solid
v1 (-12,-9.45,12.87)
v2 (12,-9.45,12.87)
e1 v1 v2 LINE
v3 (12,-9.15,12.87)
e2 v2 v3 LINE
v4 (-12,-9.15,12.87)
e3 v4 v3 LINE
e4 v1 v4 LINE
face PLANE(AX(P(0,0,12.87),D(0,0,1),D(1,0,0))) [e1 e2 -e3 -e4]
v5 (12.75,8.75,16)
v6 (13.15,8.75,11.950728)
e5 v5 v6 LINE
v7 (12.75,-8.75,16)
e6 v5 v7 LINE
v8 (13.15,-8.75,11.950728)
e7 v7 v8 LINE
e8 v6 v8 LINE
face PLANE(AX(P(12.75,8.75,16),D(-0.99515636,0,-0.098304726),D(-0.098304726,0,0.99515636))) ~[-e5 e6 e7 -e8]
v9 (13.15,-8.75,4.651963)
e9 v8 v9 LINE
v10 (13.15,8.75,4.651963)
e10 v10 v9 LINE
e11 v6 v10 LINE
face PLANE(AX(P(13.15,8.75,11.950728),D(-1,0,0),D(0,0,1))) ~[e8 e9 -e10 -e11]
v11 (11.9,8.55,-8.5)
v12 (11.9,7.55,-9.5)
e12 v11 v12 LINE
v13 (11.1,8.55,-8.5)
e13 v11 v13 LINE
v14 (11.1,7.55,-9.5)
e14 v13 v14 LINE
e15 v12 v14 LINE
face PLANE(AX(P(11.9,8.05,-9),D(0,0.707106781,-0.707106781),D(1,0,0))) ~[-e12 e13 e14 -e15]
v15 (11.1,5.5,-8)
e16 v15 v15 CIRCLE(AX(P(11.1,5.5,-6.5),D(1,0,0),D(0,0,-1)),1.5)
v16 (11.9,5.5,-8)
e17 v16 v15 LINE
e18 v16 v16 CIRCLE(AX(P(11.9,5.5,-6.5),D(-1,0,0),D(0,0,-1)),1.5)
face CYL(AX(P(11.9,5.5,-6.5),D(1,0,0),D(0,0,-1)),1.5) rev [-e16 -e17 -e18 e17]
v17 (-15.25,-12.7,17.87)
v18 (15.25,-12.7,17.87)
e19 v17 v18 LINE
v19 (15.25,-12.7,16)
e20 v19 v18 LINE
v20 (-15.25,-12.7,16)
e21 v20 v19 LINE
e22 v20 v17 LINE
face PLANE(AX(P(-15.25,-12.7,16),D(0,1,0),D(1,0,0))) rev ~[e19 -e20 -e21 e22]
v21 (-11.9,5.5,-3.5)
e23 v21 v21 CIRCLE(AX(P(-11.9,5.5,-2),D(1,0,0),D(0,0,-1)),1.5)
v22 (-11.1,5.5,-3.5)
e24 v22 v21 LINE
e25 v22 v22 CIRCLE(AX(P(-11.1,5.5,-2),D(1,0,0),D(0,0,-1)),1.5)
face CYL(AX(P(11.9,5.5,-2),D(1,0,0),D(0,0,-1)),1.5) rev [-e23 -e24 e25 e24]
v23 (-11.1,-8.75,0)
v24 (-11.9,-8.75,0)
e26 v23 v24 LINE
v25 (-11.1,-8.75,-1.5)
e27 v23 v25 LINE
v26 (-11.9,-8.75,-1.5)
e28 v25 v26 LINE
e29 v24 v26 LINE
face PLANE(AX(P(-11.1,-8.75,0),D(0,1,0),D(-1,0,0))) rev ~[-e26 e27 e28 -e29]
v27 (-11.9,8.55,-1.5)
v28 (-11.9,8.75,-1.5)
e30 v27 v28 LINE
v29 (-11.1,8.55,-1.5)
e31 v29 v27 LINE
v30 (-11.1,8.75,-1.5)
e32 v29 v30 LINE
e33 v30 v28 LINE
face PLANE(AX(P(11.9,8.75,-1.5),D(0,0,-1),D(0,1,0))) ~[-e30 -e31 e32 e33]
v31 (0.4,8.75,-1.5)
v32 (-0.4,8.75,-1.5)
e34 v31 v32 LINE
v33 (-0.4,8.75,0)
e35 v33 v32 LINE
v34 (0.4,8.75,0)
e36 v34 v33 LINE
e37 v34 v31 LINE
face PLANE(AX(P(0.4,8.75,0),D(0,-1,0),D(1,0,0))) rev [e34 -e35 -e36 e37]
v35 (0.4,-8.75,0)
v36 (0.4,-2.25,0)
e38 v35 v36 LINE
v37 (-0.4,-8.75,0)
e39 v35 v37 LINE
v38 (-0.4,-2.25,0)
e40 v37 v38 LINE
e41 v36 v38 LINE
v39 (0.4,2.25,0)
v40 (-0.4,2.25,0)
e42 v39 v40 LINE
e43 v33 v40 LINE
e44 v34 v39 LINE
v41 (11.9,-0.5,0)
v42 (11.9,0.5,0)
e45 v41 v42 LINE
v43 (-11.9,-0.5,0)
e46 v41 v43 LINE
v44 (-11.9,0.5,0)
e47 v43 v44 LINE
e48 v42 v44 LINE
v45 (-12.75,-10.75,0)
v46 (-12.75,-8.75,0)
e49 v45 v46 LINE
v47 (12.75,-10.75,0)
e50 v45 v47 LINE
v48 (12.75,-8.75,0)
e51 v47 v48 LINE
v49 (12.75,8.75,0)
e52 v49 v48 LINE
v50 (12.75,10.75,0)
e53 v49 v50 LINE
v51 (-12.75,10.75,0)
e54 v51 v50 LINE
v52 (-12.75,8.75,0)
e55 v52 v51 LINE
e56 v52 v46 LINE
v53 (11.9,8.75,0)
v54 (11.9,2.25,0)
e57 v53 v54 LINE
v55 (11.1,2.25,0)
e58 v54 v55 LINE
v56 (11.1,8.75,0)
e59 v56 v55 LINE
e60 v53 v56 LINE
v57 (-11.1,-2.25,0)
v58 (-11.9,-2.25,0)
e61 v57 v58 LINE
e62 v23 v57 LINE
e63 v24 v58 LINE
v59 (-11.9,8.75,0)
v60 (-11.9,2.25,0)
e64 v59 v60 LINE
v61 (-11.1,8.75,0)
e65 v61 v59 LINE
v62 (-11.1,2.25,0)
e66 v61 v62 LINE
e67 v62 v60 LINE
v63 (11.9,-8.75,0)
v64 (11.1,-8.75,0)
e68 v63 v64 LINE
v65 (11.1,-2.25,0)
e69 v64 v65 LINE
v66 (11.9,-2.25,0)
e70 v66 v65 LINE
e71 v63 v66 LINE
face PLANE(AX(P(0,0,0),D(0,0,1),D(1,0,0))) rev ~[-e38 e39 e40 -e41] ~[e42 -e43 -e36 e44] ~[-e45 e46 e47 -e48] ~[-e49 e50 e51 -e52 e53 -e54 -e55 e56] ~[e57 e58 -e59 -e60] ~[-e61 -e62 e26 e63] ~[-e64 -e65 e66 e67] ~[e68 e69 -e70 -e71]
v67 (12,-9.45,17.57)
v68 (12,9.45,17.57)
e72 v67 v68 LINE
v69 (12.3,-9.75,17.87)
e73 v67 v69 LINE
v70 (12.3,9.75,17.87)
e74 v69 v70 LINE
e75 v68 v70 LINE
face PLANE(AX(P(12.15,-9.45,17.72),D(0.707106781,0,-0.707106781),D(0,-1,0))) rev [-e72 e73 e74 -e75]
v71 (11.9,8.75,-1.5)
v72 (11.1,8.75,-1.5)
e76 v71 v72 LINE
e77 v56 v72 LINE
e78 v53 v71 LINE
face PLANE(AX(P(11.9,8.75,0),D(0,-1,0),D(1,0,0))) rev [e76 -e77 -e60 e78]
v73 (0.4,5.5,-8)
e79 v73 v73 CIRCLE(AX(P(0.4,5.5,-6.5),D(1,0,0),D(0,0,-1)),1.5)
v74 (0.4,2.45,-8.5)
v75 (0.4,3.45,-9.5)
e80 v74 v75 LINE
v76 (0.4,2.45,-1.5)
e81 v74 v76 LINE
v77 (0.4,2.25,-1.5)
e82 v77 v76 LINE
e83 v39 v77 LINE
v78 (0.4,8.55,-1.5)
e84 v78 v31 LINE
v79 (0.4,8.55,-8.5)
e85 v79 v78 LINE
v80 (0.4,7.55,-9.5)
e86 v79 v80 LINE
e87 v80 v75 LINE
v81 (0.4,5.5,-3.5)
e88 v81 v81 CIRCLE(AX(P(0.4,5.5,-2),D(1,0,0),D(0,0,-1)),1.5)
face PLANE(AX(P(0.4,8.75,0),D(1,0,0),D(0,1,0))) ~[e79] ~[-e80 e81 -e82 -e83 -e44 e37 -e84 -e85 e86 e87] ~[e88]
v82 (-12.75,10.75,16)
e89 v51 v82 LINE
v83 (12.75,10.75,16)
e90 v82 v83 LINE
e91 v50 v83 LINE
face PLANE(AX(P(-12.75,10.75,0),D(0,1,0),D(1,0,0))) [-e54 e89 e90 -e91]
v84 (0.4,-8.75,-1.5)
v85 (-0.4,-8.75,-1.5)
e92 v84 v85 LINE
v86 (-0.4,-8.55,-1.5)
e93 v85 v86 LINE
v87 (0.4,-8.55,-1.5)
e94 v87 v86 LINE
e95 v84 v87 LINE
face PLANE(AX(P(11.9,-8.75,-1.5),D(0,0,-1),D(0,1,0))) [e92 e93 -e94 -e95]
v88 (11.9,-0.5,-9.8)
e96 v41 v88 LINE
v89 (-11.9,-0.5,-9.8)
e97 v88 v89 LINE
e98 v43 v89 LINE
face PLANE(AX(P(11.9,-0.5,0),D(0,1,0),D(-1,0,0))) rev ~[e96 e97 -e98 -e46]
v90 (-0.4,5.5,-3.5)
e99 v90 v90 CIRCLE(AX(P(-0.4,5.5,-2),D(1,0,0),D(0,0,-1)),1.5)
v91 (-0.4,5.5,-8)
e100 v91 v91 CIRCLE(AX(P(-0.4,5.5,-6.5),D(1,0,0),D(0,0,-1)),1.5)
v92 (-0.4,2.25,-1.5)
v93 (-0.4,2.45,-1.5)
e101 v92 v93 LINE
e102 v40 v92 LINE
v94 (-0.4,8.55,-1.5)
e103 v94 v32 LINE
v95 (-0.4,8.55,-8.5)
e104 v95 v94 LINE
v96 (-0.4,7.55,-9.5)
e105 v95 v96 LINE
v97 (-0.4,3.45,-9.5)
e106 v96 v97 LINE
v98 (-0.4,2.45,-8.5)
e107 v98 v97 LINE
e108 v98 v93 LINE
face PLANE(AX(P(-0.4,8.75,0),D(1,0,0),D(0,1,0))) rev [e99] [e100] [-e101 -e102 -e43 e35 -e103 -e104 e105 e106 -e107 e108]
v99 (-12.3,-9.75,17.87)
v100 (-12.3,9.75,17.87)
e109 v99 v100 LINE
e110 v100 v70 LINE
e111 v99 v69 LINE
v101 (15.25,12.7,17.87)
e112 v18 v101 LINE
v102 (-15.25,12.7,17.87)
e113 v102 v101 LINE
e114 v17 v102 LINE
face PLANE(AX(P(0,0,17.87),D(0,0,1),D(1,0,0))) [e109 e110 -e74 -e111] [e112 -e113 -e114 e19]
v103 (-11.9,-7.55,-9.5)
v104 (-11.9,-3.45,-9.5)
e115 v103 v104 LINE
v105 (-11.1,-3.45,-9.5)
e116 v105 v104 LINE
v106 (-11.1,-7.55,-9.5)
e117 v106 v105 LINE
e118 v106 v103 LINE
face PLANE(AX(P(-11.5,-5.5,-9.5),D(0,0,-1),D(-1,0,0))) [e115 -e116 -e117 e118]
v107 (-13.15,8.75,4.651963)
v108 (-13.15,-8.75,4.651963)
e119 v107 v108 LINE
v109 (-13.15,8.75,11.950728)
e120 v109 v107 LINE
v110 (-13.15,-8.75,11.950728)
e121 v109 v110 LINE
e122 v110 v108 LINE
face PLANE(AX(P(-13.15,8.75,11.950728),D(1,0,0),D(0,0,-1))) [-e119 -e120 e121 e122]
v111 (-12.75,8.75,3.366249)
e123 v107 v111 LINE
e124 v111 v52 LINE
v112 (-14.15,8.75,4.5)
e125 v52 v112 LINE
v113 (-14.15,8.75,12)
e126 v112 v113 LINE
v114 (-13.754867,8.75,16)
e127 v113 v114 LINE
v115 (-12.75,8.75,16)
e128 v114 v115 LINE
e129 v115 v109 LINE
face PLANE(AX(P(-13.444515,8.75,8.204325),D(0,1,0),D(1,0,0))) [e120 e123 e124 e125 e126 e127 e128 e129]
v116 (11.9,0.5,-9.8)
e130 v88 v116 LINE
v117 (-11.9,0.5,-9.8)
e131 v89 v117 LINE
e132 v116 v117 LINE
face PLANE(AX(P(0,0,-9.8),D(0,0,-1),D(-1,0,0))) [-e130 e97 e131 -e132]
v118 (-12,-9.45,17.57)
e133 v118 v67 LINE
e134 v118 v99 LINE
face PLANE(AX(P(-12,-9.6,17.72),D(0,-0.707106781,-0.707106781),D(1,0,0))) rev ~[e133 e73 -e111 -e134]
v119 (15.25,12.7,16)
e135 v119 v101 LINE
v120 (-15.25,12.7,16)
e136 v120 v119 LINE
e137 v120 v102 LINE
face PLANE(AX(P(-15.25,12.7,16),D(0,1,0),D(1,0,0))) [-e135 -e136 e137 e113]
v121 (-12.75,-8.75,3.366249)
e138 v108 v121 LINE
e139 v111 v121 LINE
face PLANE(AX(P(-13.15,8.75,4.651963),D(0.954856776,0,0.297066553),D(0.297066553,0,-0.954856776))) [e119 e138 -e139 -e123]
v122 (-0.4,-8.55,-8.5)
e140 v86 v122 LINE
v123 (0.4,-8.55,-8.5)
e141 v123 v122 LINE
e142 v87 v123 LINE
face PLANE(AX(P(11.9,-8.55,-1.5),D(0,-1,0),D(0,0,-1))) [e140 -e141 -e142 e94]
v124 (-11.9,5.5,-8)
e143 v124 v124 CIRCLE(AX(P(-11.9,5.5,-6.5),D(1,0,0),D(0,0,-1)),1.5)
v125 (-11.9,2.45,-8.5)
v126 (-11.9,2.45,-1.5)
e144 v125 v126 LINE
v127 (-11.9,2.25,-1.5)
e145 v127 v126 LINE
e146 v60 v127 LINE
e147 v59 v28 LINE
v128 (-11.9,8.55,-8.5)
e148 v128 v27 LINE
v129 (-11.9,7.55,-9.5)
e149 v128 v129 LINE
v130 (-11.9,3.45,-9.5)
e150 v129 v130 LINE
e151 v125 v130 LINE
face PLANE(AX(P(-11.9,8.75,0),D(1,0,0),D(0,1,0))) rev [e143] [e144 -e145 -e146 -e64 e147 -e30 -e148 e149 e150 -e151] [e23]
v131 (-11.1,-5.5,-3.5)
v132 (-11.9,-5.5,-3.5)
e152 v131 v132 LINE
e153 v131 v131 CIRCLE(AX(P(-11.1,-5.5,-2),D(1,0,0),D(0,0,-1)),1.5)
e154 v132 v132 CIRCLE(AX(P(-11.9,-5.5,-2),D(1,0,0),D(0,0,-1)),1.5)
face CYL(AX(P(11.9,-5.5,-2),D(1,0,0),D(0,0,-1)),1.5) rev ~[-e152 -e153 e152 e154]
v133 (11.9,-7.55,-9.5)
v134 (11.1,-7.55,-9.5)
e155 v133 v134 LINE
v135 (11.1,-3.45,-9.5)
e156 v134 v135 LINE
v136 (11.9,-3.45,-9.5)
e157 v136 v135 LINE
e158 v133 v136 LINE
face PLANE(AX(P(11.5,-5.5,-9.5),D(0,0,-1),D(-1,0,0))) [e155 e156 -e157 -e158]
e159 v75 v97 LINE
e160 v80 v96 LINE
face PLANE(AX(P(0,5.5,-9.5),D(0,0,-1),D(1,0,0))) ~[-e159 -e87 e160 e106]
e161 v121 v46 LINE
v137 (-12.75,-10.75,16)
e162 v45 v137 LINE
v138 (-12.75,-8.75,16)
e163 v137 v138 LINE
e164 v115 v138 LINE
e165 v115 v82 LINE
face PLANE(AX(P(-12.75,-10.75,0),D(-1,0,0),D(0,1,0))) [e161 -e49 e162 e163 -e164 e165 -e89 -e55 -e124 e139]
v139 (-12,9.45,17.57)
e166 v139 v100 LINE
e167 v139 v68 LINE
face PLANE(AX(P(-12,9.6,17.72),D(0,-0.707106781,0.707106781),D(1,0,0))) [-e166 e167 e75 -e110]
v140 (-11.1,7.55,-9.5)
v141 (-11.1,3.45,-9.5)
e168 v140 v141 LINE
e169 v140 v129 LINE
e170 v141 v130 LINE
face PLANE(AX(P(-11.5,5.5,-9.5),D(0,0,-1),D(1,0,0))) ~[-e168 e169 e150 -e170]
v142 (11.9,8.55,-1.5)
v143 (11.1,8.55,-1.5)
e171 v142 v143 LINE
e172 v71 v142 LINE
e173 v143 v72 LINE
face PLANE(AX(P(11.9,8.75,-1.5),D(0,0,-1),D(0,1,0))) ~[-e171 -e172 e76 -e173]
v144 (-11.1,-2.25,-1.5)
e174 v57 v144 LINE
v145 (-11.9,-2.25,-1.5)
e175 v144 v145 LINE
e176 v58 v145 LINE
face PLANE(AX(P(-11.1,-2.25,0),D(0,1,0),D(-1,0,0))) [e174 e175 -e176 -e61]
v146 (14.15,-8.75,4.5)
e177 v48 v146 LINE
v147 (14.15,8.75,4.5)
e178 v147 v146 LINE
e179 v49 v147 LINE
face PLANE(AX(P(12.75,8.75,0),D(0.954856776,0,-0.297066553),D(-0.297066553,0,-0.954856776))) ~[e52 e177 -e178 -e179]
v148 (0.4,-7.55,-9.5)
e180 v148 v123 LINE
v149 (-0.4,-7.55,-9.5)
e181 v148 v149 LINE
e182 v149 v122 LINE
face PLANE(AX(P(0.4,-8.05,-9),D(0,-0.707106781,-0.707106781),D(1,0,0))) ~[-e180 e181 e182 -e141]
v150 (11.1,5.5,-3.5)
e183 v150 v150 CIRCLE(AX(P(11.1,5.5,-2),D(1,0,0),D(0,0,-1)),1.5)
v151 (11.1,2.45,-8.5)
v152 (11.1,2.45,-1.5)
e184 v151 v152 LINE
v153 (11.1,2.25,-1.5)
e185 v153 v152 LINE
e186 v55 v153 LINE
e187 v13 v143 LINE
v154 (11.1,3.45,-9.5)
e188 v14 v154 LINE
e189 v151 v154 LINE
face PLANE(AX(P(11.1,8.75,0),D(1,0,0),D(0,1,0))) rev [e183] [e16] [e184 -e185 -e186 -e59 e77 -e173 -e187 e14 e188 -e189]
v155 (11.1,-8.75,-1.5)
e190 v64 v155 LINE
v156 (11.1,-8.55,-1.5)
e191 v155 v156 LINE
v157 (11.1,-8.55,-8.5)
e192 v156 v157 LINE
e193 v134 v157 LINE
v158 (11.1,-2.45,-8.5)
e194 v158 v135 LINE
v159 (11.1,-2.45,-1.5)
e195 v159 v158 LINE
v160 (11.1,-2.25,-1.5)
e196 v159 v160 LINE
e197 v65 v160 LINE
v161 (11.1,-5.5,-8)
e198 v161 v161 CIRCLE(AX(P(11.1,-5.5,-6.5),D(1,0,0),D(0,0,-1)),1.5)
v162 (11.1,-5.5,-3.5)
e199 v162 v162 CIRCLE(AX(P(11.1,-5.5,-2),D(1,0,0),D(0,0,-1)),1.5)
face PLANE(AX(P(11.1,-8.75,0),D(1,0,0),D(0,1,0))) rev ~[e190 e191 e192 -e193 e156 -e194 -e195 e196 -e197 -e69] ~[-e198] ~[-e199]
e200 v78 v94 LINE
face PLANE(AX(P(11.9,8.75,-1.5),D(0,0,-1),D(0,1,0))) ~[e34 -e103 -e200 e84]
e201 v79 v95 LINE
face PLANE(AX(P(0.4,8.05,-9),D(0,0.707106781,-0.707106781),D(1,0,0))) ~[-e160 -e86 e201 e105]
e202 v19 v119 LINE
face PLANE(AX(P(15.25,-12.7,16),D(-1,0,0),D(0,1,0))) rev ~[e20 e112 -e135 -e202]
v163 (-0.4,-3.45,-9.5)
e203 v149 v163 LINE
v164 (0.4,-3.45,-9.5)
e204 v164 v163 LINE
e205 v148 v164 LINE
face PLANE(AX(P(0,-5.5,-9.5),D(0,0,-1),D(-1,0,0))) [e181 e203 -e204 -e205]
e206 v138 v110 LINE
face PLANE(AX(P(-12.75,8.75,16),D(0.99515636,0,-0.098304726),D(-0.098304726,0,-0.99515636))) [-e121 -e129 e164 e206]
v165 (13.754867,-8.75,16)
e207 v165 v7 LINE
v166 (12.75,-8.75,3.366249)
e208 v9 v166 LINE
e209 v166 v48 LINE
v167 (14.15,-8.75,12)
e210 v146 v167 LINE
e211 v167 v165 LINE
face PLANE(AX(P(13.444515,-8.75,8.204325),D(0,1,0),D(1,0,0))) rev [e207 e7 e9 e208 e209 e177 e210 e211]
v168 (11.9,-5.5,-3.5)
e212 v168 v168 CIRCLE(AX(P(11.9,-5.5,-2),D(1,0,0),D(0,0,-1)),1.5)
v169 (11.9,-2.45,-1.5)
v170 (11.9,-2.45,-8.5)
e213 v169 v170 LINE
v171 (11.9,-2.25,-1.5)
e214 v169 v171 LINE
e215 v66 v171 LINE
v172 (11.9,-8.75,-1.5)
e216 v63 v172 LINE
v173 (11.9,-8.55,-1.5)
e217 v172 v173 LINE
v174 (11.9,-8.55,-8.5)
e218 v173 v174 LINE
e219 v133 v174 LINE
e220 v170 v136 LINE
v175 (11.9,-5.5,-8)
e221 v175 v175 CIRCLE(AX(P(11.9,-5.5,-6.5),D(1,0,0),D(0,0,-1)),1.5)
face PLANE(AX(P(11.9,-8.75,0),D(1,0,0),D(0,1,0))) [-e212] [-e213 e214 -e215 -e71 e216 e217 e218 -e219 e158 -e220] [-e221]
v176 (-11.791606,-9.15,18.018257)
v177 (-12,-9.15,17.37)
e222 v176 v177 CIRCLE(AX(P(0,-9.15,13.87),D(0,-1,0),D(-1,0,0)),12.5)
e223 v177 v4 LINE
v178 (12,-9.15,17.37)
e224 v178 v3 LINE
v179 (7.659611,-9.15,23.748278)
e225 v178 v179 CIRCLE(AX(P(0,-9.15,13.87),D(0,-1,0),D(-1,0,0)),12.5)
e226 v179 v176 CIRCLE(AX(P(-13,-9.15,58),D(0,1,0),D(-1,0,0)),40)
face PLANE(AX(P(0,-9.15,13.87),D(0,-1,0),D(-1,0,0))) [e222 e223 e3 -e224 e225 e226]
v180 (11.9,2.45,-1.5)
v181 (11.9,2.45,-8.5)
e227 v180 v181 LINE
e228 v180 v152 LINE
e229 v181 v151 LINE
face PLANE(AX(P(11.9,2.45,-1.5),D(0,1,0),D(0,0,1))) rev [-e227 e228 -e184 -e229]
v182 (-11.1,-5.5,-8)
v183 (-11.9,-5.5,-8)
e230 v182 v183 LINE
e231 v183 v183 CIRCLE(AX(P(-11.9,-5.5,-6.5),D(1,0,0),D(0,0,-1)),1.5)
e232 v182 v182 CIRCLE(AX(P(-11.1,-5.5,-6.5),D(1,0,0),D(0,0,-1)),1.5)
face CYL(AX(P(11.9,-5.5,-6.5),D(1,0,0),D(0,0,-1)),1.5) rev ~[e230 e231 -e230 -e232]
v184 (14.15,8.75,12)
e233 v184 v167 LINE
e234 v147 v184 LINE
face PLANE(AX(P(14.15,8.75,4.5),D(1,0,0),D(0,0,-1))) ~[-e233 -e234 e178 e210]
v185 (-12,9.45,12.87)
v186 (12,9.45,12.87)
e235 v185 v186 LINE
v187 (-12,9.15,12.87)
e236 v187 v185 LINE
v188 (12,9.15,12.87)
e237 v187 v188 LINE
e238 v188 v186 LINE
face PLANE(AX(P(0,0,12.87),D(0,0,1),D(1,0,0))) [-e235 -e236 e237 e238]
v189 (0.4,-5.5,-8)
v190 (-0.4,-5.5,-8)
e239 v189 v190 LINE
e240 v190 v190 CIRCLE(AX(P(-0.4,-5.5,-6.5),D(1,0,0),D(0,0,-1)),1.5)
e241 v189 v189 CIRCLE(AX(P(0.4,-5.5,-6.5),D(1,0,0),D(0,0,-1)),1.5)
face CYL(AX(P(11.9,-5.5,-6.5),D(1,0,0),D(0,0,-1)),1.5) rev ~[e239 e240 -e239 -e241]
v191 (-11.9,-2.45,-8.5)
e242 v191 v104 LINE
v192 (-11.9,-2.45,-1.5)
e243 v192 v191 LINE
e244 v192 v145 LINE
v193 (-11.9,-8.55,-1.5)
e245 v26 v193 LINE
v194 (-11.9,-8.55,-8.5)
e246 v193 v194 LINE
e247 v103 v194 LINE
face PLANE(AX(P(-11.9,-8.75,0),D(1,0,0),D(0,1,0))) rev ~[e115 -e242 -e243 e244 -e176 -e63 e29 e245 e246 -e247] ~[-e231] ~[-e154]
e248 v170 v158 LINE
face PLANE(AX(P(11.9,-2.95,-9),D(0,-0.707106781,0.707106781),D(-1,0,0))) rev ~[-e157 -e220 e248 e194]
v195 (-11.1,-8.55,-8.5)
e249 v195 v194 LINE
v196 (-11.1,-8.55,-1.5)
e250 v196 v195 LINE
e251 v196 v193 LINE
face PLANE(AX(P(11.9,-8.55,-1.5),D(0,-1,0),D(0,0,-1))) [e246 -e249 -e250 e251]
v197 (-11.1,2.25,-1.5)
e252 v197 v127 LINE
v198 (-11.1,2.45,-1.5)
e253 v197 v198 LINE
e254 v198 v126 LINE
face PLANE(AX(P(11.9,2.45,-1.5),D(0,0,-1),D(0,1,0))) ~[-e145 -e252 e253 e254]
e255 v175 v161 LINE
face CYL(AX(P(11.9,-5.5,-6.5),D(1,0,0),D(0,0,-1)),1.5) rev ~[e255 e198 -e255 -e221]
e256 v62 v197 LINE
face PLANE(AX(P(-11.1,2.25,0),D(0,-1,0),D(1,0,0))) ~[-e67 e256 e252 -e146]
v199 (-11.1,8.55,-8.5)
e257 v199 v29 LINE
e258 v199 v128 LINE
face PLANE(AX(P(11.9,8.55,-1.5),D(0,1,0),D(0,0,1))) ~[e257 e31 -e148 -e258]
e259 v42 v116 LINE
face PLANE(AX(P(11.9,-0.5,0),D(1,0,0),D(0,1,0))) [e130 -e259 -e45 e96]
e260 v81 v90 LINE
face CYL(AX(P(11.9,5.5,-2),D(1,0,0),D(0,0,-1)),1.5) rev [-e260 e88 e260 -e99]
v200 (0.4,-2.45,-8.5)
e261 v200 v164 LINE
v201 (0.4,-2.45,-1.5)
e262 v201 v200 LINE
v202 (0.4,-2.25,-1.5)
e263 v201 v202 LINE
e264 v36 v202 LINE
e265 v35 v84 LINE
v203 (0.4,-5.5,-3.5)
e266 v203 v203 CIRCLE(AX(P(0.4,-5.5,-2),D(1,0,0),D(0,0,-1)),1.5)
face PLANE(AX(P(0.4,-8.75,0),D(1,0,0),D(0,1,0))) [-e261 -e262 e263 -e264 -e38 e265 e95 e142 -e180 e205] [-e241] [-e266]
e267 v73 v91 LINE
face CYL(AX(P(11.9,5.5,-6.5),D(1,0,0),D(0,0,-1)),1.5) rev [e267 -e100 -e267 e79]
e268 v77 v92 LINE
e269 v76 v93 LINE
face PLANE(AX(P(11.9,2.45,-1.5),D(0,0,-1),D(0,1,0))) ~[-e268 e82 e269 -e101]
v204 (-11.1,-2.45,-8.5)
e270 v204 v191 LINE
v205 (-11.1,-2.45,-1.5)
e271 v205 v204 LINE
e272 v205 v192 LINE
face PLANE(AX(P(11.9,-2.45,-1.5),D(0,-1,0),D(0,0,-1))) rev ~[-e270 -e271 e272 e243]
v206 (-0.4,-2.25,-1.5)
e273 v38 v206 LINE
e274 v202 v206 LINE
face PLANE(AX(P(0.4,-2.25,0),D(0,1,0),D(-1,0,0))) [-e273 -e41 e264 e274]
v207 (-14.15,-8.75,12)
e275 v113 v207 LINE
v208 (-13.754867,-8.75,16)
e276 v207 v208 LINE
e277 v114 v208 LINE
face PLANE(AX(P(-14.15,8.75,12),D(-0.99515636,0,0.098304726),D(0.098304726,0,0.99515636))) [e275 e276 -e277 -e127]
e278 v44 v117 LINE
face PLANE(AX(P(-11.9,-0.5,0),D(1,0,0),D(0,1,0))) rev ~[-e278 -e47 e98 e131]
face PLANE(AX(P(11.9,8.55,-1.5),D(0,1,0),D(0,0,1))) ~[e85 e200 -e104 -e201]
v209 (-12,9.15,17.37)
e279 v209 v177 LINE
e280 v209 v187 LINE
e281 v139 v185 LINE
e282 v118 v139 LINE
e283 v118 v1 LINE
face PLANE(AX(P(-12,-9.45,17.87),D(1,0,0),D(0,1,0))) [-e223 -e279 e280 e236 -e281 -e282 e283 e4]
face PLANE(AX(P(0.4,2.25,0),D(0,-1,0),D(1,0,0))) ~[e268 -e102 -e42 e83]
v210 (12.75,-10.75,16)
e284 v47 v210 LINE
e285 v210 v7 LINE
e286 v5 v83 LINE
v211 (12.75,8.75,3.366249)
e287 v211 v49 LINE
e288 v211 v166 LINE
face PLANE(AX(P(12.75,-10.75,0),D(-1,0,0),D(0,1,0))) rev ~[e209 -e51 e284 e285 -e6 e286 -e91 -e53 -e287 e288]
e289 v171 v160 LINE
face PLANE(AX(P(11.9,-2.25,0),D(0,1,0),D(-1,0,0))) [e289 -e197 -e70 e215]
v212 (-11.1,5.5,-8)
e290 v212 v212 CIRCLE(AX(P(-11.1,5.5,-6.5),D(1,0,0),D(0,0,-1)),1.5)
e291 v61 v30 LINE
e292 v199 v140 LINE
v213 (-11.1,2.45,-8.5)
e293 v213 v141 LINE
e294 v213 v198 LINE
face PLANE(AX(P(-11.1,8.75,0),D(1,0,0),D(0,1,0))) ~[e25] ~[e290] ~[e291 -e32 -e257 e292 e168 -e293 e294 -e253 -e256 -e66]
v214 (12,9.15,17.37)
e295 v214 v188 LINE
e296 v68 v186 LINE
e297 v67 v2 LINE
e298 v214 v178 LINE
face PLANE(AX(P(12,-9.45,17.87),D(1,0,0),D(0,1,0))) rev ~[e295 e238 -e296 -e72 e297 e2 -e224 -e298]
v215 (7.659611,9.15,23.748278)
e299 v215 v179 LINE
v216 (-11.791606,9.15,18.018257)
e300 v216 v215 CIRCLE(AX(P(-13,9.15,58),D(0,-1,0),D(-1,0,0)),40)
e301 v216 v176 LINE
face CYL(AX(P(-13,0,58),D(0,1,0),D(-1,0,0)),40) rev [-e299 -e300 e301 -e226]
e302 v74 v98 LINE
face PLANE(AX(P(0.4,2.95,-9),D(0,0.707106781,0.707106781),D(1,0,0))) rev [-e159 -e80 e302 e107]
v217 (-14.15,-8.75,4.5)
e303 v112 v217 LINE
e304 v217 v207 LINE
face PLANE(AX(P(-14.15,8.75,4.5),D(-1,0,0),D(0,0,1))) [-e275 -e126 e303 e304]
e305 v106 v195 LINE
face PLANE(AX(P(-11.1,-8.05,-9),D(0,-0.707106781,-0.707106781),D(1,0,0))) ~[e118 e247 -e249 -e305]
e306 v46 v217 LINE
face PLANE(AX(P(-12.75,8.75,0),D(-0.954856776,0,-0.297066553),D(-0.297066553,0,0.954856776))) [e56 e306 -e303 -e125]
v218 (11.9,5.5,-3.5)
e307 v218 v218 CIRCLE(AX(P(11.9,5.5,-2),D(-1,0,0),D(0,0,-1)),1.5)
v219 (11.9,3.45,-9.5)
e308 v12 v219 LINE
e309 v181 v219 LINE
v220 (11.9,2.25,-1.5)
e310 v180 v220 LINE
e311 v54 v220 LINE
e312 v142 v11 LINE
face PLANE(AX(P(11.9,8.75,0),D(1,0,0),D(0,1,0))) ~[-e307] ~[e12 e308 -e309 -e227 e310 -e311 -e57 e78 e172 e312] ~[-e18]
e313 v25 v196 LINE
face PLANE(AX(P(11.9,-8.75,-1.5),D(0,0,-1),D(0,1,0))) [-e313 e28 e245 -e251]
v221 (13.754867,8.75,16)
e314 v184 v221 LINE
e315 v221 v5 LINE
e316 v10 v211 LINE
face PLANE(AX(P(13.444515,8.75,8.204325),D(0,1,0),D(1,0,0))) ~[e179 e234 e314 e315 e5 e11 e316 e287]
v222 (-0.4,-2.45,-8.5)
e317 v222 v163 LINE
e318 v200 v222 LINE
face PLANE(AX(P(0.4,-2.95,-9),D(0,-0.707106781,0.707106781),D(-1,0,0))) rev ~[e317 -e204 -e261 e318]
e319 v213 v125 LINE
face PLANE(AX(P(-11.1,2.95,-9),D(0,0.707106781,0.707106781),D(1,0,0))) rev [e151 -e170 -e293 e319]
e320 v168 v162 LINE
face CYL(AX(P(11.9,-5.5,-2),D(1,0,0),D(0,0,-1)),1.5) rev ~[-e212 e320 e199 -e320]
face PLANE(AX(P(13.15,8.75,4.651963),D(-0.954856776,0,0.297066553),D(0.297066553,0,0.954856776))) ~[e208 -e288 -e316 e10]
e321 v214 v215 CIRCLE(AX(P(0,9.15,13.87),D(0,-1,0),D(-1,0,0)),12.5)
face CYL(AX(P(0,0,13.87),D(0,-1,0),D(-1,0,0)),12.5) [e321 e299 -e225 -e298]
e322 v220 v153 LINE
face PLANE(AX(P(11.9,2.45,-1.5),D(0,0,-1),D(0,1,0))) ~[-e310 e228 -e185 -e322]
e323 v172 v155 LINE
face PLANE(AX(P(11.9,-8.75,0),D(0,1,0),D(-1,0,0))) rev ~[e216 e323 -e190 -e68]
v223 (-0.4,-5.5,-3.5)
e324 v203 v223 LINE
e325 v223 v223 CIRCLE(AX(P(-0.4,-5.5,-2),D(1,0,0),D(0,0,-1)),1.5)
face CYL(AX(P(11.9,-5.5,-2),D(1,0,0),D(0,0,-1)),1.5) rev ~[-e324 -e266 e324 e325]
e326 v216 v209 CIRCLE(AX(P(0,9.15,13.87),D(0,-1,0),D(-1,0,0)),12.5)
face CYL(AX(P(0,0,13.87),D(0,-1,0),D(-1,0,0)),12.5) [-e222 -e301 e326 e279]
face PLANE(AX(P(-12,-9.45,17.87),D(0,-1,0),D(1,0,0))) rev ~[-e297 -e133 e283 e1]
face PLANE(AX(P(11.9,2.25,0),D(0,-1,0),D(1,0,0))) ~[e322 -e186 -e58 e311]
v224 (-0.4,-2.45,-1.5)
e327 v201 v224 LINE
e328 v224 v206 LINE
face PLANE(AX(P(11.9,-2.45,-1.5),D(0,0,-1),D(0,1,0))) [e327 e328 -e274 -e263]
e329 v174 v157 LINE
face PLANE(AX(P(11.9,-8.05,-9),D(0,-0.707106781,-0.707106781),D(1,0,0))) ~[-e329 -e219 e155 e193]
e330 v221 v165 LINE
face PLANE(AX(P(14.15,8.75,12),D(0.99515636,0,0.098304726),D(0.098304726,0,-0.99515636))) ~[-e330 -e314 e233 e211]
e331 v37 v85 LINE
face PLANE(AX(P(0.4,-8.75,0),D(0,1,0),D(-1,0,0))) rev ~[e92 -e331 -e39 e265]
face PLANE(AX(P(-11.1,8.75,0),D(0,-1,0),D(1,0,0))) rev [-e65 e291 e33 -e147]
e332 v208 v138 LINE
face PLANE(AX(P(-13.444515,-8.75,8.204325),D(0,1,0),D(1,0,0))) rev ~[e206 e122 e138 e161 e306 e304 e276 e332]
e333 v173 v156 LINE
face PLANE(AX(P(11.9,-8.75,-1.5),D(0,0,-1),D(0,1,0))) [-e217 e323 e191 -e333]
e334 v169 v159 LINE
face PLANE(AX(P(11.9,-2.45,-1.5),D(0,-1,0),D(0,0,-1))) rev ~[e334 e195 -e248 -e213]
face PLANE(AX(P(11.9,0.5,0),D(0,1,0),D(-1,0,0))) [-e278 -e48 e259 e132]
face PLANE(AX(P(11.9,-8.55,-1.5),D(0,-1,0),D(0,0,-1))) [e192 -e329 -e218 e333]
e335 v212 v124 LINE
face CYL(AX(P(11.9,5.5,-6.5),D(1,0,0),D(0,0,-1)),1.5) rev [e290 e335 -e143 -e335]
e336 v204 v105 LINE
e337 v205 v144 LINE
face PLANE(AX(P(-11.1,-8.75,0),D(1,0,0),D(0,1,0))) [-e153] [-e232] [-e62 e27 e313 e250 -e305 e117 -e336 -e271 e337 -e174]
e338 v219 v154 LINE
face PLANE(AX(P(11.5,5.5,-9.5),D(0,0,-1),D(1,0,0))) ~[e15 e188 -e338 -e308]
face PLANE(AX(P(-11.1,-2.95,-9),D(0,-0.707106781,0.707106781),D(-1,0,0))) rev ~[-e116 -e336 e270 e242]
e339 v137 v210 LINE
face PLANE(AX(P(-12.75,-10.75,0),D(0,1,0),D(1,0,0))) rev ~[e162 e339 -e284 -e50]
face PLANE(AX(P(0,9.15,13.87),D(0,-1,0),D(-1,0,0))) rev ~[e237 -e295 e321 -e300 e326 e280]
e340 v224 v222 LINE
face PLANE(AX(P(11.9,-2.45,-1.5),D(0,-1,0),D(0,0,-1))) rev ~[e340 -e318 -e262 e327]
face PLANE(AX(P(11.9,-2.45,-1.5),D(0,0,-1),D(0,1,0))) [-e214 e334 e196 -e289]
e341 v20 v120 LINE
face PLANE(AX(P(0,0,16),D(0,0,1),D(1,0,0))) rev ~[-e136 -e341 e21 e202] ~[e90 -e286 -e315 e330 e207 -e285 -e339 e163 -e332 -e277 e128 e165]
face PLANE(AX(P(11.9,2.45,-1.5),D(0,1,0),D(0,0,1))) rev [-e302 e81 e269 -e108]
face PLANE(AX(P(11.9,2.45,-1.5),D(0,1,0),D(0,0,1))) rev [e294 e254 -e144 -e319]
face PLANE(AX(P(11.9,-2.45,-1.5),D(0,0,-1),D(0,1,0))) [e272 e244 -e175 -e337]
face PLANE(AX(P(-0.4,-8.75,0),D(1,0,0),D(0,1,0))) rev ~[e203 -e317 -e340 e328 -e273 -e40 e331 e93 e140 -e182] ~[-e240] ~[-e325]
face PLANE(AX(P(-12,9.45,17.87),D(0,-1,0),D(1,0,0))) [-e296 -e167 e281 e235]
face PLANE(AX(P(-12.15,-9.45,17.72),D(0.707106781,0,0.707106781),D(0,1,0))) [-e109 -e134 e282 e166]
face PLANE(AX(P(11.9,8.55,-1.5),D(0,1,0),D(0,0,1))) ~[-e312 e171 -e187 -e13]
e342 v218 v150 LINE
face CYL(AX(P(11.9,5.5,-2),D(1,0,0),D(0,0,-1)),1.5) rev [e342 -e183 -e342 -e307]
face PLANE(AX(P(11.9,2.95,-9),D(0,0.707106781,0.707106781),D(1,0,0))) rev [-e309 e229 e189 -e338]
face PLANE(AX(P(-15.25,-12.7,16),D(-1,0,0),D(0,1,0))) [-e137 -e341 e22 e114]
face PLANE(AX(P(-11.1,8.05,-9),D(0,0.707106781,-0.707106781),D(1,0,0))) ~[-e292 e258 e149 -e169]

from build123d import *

# Parameters (mm, degrees)
SKETCH1_W                = 25.5
SKETCH1_H                = 21.5
BOSS_EXTRUDE1_DEPTH      = 16
SKETCH3_W                = 30.5
SKETCH3_H                = 25.4
BOSS_EXTRUDE3_DEPTH      = 1.87
SKETCH4_W                = 23.8
SKETCH4_H                = 1
BOSS_EXTRUDE4_DEPTH      = 9.8
SKETCH5_W                = 0.8
SKETCH5_H                = 6.5
BOSS_EXTRUDE5_DEPTH      = 9.5
SKETCH6_W                = 8
SKETCH6_H                = 0.2
CUT_EXTRUDE1_DEPTH       = 28.15
CHAMFER1_SIZE            = 1
SKETCH7_R                = 1.5
CUT_EXTRUDE2_DEPTH       = 28.15
CHAMFER1_OF_MIRROR1_SIZE = 1
BOSS_EXTRUDE6_START      = -2
BOSS_EXTRUDE6_DEPTH      = 17.5
SKETCH9_W                = 24
SKETCH9_H                = 18.9
CUT_EXTRUDE3_DEPTH       = 5
SKETCH10_R               = 12.5
BOSS_EXTRUDE7_DEPTH      = 9.15
SKETCH11_R               = 40
CUT_EXTRUDE4_DEPTH       = 13.7
CUT_EXTRUDE4_DEPTH_BACK  = 13.7
CHAMFER2_SIZE            = 0.3


with BuildPart() as part:
    # Sketch1 → Boss-Extrude1 (new body)
    with BuildSketch(Plane.XY):
        Rectangle(SKETCH1_W, SKETCH1_H)
    extrude(amount=BOSS_EXTRUDE1_DEPTH)

    # Sketch3 → Boss-Extrude3 (add)
    with BuildSketch(Plane.XY.offset(16)):
        Rectangle(SKETCH3_W, SKETCH3_H)
    extrude(amount=BOSS_EXTRUDE3_DEPTH)

    # Sketch4 → Boss-Extrude4 (add)
    with BuildSketch(Plane(origin=(0, 0, 0), x_dir=(-1, 0, 0), z_dir=(0, 0, -1))):
        Rectangle(SKETCH4_W, SKETCH4_H)
    extrude(amount=BOSS_EXTRUDE4_DEPTH)

    # Sketch5 → Boss-Extrude5 (add)
    with BuildSketch(Plane(origin=(0, 0, 0), x_dir=(-1, 0, 0), z_dir=(0, 0, -1))):
        with Locations((11.5, -5.5)):
            Rectangle(SKETCH5_W, SKETCH5_H)
        with Locations((0, -5.5)):
            Rectangle(SKETCH5_W, SKETCH5_H)
        with Locations((-11.5, -5.5)):
            Rectangle(SKETCH5_W, SKETCH5_H)
    boss_extrude5 = extrude(amount=BOSS_EXTRUDE5_DEPTH)

    # Sketch6 → Cut-Extrude1 (cut, through all)
    with BuildSketch(Plane(origin=(11.9, 0, 0), x_dir=(0, 0, -1), z_dir=(1, 0, 0))):
        with Locations((5.5, -2.35)):
            Rectangle(SKETCH6_W, SKETCH6_H)
        with Locations((5.5, -8.65)):
            Rectangle(SKETCH6_W, SKETCH6_H)
    cut_extrude1 = extrude(amount=-CUT_EXTRUDE1_DEPTH, mode=Mode.SUBTRACT)

    # Chamfer1
    chamfer1_edges = [part.edges().sort_by_distance(p)[0] for p in [
        (-11.5, -2.45, -9.5),
        (0, -2.45, -9.5),
        (-11.5, -8.55, -9.5),
        (0, -8.55, -9.5),
        (11.5, -8.55, -9.5),
        (11.5, -2.45, -9.5),
    ]]
    chamfer(chamfer1_edges, length=CHAMFER1_SIZE)

    # Sketch7 → Cut-Extrude2 (cut, through all)
    with BuildSketch(Plane(origin=(11.9, 0, 0), x_dir=(0, 0, -1), z_dir=(1, 0, 0))):
        with Locations((6.5, -5.5)):
            Circle(SKETCH7_R)
        with Locations((2, -5.5)):
            Circle(SKETCH7_R)
    cut_extrude2 = extrude(amount=-CUT_EXTRUDE2_DEPTH, mode=Mode.SUBTRACT)

    # Mirror1: Boss-Extrude5, Cut-Extrude1, Cut-Extrude2 across plane
    add(boss_extrude5.mirror(Plane(origin=(0, 0, 0), x_dir=(0, 0, 1), z_dir=(0, -1, 0))))
    add(cut_extrude1.mirror(Plane(origin=(0, 0, 0), x_dir=(0, 0, 1), z_dir=(0, -1, 0))), mode=Mode.SUBTRACT)
    add(cut_extrude2.mirror(Plane(origin=(0, 0, 0), x_dir=(0, 0, 1), z_dir=(0, -1, 0))), mode=Mode.SUBTRACT)

    # Chamfer1 of Mirror1
    chamfer1_of_mirror1_edges = [part.edges().sort_by_distance(p)[0] for p in [
        (-11.5, 2.45, -9.5),
        (0, 2.45, -9.5),
        (-11.5, 8.55, -9.5),
        (0, 8.55, -9.5),
        (11.5, 8.55, -9.5),
        (11.5, 2.45, -9.5),
    ]]
    chamfer(chamfer1_of_mirror1_edges, length=CHAMFER1_OF_MIRROR1_SIZE)

    # Sketch8 → Boss-Extrude6 (add)
    with BuildSketch(Plane(origin=(0, 10.75, 0), x_dir=(1, 0, 0), z_dir=(0, 1, 0)).offset(BOSS_EXTRUDE6_START)):
        Polygon((-12.75, 0), (-14.15, -4.5), (-14.15, -12), (-13.754867215, -16), (-12.75, -16), (-13.15, -11.95072831), (-13.15, -4.651963334), (-12.75, -3.366249048), align=None)
    boss_extrude6 = extrude(amount=-BOSS_EXTRUDE6_DEPTH)

    # Mirror2: Boss-Extrude6 across plane
    add(boss_extrude6.mirror(Plane.ZY))

    # Sketch9 → Cut-Extrude3 (cut)
    with BuildSketch(Plane.XY.offset(17.87)):
        Rectangle(SKETCH9_W, SKETCH9_H)
    extrude(amount=-CUT_EXTRUDE3_DEPTH, mode=Mode.SUBTRACT)

    # Sketch10 → Boss-Extrude7 (add, symmetric)
    with BuildSketch(Plane(origin=(0, 0, 0), x_dir=(-1, 0, 0), z_dir=(0, -1, 0))):
        with Locations((0, -13.87)):
            Circle(SKETCH10_R)
    extrude(amount=BOSS_EXTRUDE7_DEPTH, both=True)

    # Sketch11 → Cut-Extrude4 (cut, two sides)
    with BuildSketch(Plane(origin=(0, 0, 0), x_dir=(-1, 0, 0), z_dir=(0, -1, 0))) as cut_extrude4_sk:
        with Locations((13, -58)):
            Circle(SKETCH11_R)
    extrude(amount=CUT_EXTRUDE4_DEPTH, mode=Mode.SUBTRACT)
    extrude(cut_extrude4_sk.sketch, amount=-CUT_EXTRUDE4_DEPTH_BACK, mode=Mode.SUBTRACT)

    # Chamfer2
    chamfer2_edges = [part.edges().sort_by_distance(p)[0] for p in [
        (-12, 0, 17.87),
        (0, 9.45, 17.87),
        (0, -9.45, 17.87),
        (12, 0, 17.87),
    ]]
    chamfer(chamfer2_edges, length=CHAMFER2_SIZE)


solid = part.part
